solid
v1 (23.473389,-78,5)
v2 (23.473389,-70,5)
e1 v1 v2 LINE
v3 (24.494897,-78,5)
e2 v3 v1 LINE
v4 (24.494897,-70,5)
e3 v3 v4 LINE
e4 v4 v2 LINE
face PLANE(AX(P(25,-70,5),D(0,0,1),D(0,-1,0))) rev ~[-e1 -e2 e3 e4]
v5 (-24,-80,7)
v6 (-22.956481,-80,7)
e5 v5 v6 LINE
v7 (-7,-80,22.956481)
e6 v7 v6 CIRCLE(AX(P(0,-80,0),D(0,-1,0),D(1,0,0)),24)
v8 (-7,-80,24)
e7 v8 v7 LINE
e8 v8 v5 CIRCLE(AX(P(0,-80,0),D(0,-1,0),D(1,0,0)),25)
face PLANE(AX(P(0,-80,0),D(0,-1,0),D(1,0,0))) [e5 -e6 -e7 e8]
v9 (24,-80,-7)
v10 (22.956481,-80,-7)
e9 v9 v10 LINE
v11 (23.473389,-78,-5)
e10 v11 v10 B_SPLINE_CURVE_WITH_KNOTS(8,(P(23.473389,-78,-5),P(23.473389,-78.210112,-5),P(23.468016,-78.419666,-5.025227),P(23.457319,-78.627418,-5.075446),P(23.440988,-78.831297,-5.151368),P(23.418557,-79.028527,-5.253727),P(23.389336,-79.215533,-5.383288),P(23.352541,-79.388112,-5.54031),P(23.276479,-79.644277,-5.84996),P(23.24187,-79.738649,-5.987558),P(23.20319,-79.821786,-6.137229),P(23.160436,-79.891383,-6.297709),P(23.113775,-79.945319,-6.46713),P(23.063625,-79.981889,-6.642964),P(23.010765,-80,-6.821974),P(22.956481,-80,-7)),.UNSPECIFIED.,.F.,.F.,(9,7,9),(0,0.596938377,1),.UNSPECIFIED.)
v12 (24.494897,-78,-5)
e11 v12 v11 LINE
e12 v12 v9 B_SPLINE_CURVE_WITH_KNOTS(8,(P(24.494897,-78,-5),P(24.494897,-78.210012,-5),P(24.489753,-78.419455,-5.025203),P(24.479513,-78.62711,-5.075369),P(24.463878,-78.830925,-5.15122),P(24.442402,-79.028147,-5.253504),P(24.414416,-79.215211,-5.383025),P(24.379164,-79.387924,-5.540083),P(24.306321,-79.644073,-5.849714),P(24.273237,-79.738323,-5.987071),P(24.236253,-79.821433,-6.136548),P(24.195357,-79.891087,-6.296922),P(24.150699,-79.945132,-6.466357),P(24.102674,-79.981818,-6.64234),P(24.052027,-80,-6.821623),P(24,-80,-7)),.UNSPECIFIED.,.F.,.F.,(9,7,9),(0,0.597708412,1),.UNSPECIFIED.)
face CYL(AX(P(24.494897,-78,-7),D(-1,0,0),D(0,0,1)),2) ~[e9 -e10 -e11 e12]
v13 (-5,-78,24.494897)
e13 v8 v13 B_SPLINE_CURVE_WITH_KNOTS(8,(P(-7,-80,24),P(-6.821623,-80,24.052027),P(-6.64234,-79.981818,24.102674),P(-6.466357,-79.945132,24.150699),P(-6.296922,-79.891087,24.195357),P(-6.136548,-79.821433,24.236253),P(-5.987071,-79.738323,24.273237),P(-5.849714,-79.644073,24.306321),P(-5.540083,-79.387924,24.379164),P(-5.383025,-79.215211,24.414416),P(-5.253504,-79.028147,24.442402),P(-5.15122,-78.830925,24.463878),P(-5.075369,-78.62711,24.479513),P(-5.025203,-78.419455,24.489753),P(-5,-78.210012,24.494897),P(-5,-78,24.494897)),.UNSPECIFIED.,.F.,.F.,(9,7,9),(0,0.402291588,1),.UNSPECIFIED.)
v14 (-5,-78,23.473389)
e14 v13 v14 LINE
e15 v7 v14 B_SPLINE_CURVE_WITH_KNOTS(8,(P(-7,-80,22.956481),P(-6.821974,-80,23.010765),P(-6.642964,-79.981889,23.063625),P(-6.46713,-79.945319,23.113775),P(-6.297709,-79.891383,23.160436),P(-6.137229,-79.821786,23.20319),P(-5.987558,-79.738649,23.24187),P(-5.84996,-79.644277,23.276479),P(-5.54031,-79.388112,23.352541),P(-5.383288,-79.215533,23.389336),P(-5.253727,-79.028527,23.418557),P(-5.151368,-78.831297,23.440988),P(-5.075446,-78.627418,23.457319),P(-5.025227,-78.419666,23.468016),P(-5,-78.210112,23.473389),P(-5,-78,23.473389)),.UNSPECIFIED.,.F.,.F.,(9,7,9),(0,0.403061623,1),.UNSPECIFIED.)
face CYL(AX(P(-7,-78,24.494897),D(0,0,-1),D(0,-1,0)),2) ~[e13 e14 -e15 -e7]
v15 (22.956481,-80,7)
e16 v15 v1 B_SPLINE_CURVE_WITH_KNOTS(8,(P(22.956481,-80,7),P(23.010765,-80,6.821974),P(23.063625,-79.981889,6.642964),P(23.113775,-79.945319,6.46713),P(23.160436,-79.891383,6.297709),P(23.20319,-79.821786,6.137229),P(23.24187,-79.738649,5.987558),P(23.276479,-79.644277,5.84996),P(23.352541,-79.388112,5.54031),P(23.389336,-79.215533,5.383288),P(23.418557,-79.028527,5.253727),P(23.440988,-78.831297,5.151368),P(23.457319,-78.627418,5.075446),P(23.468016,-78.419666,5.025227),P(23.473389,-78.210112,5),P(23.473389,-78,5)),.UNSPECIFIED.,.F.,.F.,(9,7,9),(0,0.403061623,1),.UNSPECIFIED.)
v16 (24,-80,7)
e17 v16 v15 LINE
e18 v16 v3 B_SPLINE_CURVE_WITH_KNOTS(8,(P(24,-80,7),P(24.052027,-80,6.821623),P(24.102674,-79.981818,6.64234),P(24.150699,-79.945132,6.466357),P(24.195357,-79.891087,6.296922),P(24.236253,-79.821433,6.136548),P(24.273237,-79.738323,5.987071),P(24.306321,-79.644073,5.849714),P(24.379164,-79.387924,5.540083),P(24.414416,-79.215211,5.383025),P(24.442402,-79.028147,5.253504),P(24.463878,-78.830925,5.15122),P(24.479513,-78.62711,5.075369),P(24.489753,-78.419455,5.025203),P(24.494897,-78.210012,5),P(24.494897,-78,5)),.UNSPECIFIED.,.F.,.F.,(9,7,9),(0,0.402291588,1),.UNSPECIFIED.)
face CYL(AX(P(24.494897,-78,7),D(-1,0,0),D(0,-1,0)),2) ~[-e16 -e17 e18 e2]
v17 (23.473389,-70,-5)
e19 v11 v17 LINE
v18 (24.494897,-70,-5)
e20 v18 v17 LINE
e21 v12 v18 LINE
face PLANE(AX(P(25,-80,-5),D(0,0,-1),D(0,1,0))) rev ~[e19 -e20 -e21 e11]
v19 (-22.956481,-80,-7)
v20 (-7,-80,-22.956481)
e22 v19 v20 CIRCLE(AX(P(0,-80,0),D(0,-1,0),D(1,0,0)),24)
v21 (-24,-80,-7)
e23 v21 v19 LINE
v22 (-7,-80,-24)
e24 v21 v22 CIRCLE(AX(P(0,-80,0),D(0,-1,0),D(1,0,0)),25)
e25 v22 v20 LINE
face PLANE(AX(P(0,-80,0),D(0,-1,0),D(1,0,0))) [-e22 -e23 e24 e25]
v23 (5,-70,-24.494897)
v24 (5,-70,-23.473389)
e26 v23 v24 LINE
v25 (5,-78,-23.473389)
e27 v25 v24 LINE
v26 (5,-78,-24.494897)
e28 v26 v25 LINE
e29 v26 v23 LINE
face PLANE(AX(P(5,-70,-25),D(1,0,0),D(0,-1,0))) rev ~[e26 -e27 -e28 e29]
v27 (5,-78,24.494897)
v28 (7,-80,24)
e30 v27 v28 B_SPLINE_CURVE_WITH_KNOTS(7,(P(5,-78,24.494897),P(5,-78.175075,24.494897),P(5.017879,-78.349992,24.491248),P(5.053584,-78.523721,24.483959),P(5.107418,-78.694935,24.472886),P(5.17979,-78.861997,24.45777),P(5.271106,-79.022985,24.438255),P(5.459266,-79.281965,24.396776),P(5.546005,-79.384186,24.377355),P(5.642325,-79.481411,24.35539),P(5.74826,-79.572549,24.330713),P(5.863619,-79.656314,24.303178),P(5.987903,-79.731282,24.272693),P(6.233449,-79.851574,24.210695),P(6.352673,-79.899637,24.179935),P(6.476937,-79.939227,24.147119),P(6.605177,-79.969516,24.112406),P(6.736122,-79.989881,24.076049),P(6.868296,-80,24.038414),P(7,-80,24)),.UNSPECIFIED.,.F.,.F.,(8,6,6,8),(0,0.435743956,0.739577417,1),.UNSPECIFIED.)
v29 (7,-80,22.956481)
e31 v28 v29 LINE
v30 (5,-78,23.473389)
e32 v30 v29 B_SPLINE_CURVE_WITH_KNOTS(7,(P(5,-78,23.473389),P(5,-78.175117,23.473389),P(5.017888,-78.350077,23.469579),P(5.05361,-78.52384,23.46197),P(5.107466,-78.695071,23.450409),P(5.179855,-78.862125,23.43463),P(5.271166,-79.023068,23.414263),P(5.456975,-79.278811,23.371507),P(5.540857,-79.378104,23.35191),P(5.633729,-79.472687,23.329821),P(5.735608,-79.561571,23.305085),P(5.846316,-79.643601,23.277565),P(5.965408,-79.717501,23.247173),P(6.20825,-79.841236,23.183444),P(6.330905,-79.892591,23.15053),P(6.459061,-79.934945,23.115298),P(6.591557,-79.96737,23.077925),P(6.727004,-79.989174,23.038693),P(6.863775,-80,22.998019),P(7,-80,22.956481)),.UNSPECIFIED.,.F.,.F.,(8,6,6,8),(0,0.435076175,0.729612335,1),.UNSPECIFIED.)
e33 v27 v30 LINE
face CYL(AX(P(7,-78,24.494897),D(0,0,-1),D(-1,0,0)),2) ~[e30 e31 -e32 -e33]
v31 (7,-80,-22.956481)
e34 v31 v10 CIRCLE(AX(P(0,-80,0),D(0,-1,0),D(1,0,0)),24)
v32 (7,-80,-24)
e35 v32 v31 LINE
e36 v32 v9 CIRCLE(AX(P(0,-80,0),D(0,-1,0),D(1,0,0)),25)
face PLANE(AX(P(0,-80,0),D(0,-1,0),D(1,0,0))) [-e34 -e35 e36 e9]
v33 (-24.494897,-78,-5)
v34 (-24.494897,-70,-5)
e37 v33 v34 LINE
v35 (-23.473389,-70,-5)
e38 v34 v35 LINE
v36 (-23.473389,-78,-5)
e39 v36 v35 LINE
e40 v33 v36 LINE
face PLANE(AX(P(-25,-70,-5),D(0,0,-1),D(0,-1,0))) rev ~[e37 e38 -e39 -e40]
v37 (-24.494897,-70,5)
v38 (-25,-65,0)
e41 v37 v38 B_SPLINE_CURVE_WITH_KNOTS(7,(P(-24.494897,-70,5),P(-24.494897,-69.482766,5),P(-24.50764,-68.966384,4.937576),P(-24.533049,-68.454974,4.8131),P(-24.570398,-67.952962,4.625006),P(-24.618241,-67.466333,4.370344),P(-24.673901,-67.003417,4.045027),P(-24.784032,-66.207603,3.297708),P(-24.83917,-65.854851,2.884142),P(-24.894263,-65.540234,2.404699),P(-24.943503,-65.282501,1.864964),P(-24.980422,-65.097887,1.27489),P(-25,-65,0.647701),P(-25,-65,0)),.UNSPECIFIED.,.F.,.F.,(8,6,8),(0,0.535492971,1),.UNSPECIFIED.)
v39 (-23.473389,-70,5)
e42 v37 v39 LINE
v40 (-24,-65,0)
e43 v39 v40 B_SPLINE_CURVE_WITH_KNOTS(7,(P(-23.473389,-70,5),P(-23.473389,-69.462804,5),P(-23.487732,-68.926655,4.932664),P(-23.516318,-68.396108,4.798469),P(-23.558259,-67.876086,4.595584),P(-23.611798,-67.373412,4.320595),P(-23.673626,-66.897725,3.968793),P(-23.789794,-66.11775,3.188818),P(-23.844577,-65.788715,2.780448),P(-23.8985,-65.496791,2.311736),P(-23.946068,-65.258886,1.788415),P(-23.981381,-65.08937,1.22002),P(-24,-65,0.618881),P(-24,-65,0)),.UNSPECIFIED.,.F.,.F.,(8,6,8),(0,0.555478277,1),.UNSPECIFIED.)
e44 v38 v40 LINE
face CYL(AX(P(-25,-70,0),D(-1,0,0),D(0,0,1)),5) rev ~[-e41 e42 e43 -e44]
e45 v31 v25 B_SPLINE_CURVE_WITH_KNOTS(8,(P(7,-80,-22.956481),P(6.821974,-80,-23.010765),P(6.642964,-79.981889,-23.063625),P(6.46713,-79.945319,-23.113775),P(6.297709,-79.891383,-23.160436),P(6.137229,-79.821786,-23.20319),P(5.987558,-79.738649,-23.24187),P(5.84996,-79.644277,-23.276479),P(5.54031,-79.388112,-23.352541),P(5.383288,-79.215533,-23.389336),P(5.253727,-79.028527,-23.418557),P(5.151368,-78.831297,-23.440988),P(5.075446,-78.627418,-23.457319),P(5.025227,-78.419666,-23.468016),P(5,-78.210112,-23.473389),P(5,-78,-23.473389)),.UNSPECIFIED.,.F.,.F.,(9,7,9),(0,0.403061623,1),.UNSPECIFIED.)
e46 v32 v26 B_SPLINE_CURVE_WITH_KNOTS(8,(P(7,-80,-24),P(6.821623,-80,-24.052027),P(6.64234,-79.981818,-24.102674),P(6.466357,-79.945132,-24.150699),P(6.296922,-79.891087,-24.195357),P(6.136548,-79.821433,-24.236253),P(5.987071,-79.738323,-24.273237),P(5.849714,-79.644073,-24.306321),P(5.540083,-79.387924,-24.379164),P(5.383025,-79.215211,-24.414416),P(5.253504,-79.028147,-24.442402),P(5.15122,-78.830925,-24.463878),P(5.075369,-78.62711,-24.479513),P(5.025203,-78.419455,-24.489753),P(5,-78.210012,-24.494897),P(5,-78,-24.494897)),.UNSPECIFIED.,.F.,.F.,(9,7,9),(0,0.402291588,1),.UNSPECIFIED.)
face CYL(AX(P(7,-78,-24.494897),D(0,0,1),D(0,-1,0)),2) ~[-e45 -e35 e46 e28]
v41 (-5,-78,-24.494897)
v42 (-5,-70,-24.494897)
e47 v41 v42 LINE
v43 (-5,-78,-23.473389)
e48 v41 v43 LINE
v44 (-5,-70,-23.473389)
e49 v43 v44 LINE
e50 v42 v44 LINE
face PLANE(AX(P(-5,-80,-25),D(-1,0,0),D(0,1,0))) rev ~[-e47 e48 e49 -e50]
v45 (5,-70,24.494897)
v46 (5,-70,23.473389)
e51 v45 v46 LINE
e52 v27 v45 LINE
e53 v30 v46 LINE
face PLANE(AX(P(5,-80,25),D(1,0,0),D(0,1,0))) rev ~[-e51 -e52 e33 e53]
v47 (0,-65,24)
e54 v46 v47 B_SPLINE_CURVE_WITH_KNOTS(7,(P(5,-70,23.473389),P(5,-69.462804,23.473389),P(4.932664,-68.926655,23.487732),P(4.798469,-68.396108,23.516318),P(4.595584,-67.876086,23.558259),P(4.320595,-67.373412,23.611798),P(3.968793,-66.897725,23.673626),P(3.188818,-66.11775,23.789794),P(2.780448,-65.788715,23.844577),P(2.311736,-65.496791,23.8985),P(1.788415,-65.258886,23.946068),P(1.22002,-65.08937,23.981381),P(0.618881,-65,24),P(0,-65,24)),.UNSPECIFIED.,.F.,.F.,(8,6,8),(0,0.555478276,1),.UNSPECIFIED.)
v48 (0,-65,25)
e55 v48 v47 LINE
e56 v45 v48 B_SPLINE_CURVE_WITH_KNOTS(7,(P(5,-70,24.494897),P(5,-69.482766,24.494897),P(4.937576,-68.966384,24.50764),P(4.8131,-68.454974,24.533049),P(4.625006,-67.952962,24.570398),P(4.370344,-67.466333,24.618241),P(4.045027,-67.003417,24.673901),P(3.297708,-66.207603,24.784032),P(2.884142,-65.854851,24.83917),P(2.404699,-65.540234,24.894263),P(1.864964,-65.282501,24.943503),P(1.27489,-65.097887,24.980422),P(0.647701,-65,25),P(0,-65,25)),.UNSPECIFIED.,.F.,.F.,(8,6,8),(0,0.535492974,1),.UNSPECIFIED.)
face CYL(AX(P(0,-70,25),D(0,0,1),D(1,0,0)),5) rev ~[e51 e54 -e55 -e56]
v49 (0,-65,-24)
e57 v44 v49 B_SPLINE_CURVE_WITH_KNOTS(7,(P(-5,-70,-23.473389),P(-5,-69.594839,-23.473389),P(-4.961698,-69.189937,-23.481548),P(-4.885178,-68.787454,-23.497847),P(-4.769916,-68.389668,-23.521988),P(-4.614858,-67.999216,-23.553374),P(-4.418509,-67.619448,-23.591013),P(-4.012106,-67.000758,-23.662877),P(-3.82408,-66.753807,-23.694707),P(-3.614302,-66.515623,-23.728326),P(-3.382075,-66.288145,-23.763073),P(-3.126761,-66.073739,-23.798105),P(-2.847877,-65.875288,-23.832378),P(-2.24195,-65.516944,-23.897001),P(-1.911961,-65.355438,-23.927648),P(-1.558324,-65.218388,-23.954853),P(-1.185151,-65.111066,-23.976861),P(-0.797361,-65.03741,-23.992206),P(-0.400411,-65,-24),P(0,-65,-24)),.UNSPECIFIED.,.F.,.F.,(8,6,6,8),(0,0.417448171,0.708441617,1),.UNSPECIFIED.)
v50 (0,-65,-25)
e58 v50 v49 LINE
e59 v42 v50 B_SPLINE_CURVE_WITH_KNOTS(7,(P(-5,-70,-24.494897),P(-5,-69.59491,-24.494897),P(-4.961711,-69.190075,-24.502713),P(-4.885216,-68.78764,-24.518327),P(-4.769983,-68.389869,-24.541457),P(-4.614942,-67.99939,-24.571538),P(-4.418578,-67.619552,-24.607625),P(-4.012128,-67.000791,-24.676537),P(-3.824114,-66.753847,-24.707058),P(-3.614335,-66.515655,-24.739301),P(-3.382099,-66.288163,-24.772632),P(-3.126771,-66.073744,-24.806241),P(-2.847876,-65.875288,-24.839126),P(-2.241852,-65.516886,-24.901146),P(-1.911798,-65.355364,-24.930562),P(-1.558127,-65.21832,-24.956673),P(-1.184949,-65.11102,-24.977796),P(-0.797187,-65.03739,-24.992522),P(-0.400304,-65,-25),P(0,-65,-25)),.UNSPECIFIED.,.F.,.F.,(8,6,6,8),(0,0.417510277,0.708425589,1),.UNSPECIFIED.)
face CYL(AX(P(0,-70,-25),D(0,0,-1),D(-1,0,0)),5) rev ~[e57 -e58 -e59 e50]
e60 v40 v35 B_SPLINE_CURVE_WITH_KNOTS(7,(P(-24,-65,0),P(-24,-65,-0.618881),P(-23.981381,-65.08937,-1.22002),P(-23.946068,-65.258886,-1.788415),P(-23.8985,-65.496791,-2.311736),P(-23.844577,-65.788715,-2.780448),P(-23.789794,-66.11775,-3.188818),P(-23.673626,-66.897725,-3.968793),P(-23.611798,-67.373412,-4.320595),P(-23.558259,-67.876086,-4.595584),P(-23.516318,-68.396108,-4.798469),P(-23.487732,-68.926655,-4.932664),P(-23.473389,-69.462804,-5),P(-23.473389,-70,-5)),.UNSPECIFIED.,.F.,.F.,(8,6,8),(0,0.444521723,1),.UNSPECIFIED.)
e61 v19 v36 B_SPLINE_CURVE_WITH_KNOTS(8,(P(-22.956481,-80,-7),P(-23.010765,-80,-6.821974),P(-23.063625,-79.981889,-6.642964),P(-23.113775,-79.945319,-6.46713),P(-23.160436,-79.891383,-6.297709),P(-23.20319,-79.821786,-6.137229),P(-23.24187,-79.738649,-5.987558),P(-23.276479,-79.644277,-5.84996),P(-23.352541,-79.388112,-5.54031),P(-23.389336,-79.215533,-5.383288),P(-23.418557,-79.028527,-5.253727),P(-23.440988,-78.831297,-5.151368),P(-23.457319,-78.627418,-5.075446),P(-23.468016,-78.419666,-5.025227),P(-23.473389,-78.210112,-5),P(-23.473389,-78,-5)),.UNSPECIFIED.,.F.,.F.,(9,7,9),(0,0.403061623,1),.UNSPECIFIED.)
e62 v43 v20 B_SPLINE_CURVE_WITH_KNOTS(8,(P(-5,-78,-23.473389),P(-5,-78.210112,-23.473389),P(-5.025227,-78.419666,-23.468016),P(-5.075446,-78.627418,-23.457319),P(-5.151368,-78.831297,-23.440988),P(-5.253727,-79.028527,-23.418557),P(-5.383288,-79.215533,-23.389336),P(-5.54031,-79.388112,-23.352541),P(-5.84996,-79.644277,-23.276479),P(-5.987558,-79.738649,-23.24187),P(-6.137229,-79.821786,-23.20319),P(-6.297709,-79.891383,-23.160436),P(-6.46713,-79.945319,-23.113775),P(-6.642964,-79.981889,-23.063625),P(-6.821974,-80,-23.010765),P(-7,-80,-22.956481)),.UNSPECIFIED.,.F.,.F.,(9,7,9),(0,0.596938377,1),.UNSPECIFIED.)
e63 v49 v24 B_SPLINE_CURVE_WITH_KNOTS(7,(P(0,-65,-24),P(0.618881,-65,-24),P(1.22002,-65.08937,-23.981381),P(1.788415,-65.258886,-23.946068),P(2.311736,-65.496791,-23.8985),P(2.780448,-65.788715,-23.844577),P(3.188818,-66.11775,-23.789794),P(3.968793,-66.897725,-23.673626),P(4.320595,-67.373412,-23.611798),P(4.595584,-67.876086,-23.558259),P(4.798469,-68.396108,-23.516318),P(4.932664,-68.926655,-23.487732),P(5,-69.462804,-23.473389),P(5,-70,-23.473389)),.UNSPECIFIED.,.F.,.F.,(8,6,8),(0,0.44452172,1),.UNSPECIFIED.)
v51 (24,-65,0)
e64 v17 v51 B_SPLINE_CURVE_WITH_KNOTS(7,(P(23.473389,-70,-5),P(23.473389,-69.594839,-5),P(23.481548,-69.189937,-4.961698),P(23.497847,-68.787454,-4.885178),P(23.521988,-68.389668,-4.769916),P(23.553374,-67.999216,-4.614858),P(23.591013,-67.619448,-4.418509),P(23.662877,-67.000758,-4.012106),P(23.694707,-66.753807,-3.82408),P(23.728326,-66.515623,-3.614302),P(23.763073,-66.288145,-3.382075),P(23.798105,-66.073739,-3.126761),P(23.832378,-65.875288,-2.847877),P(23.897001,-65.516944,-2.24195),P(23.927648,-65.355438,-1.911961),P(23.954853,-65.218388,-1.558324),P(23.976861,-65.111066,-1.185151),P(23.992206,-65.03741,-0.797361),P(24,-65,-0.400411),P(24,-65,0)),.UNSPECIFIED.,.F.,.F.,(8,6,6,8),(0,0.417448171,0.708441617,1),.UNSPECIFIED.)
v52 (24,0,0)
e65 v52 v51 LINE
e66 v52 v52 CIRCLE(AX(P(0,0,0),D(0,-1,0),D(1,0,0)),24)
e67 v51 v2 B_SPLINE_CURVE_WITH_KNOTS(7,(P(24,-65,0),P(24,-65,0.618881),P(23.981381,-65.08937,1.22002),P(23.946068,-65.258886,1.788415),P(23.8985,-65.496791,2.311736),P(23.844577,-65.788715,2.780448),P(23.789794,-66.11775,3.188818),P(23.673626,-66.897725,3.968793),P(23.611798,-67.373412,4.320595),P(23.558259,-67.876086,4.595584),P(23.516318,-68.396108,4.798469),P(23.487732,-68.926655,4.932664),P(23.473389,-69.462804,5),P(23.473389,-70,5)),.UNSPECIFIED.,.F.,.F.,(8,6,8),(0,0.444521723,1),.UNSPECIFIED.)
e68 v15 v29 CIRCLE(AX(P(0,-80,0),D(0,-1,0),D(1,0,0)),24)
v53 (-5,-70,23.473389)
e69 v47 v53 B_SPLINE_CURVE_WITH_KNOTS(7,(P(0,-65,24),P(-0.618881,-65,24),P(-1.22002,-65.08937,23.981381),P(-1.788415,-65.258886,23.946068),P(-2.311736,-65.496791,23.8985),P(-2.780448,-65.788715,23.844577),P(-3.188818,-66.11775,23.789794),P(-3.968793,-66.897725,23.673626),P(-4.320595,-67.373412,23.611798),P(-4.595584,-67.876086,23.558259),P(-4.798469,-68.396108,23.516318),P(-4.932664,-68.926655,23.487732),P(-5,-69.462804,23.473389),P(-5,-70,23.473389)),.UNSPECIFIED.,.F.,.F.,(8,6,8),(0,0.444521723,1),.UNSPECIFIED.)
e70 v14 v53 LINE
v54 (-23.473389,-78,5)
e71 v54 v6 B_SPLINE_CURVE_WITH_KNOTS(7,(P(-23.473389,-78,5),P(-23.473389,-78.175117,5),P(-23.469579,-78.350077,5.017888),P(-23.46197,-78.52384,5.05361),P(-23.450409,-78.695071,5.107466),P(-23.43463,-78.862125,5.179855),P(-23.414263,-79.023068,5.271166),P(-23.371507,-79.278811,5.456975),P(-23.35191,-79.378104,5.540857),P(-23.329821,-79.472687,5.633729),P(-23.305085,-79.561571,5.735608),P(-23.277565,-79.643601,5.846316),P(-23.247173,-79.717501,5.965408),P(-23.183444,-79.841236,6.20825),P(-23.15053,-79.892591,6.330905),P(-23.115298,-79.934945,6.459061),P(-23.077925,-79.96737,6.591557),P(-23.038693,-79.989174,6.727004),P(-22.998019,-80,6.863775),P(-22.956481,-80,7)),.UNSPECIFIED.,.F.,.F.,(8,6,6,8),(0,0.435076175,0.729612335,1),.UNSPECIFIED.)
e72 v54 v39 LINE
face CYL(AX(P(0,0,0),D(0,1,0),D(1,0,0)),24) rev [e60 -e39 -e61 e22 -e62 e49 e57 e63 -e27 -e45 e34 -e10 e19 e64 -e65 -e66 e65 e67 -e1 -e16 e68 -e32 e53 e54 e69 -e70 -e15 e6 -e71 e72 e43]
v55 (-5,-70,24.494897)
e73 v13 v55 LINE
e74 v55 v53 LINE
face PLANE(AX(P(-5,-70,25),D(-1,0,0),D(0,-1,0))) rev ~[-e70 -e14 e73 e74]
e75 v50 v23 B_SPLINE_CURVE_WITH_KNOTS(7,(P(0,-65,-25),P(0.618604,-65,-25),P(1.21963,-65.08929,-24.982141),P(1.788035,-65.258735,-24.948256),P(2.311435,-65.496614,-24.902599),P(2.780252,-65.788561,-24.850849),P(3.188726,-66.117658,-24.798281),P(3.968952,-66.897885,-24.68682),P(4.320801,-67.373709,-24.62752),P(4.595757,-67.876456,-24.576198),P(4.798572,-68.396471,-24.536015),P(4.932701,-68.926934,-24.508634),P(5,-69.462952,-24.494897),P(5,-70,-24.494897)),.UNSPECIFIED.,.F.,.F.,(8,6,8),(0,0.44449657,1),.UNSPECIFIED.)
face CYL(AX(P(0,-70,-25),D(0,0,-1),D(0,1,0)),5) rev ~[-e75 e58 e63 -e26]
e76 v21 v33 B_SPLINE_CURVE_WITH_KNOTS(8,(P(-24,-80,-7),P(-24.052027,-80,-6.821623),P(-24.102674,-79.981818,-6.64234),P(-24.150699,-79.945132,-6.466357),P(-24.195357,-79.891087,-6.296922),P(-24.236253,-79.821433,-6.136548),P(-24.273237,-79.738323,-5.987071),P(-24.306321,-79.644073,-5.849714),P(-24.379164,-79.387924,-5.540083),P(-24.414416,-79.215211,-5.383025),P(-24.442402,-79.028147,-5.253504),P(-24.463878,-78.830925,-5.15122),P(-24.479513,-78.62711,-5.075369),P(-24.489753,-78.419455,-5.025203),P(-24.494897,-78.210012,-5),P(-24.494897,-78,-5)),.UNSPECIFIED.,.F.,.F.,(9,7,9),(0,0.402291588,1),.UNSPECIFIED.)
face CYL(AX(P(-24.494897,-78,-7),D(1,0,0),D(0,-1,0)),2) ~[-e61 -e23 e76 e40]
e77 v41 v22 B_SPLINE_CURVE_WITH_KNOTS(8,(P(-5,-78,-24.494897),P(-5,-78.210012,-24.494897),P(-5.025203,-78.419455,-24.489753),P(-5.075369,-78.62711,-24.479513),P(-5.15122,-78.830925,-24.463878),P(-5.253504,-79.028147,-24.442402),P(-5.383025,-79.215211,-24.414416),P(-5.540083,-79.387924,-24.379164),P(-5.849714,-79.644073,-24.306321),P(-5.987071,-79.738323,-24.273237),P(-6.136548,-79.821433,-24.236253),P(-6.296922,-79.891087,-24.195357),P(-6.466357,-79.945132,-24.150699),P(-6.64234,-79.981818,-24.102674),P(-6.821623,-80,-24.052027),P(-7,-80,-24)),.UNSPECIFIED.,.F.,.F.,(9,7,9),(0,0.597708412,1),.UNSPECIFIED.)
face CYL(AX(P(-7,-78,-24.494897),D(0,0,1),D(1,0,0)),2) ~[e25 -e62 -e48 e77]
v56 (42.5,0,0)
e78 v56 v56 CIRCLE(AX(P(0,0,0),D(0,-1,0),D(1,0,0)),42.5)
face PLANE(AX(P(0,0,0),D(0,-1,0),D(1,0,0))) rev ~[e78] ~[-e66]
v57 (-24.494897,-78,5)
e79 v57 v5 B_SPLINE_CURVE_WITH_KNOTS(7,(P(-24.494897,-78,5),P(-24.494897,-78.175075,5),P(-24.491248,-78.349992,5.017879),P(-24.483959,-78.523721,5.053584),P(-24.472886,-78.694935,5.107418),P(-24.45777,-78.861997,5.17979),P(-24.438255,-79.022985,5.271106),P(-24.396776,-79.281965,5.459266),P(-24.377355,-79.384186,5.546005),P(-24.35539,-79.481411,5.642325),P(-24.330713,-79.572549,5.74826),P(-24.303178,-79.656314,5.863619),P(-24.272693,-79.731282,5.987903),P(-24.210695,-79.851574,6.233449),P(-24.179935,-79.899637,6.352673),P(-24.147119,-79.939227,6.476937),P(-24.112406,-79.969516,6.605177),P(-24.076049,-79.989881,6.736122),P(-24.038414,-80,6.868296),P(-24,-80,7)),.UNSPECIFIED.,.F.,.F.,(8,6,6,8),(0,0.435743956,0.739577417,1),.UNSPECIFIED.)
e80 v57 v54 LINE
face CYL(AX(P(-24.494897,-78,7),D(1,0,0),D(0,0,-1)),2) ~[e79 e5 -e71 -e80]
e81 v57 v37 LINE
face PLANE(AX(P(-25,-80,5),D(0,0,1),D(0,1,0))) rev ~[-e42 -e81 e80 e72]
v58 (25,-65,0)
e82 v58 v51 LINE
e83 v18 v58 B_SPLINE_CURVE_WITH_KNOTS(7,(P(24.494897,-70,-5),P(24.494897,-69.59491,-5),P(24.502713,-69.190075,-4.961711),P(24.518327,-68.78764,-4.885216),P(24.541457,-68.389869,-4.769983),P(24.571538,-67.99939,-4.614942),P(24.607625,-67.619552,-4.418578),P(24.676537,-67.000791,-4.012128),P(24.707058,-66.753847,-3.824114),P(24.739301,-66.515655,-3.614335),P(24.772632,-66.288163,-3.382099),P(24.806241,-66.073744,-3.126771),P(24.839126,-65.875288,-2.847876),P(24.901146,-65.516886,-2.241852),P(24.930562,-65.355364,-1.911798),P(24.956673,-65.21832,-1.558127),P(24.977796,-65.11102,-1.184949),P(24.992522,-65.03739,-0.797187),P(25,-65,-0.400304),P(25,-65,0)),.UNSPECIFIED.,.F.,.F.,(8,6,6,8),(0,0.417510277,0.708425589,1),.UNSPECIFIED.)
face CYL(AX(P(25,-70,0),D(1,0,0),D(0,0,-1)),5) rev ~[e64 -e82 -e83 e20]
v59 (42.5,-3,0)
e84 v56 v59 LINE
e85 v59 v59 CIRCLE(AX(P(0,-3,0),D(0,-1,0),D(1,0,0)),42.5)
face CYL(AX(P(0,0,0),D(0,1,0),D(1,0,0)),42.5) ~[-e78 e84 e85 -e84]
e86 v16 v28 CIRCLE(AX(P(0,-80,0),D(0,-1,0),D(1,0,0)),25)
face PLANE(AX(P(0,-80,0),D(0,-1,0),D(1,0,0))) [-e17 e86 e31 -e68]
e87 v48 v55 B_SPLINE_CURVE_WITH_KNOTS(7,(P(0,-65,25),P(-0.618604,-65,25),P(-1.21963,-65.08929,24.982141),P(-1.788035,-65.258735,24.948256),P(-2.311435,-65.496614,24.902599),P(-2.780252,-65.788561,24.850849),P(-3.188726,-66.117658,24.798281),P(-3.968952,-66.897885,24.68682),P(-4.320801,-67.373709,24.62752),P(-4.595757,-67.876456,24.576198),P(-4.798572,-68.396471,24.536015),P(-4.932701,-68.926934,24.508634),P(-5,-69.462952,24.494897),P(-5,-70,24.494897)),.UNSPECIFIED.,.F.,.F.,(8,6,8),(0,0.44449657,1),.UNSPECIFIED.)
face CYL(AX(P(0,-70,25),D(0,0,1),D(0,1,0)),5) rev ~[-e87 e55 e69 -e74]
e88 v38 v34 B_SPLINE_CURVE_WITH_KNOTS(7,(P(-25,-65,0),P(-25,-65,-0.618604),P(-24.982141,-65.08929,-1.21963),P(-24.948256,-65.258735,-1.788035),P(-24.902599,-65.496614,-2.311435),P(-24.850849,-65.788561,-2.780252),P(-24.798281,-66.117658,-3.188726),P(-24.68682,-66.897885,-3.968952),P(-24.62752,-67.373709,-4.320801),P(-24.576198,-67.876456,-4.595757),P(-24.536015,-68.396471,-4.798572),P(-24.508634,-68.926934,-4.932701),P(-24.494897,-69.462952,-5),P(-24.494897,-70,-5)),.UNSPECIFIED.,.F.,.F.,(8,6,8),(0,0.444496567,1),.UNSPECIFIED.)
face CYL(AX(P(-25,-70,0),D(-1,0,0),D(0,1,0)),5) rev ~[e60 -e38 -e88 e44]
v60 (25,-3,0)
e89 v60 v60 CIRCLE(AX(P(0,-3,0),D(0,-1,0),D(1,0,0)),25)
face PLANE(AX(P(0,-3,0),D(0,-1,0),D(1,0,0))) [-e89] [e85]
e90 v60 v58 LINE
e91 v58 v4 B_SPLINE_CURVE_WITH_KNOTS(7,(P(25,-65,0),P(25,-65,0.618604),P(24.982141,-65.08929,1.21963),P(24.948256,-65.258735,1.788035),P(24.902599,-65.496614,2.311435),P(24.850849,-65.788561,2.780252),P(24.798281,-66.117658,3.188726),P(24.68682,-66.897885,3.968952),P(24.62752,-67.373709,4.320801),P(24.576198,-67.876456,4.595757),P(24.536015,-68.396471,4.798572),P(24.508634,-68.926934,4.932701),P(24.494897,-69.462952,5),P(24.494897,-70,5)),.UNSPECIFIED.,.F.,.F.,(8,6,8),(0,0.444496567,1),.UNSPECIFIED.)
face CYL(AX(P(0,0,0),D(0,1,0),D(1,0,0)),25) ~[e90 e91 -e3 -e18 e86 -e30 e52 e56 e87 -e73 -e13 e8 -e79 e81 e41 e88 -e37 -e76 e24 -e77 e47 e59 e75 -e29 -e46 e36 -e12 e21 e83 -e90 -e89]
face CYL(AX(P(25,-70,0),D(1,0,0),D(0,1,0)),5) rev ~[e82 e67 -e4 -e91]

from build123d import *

# Parameters (mm, degrees)
F0_R     = 42.5
F0_R_2   = 25
F1_DEPTH = 3
F0_R_3   = 24
F3_DEPTH = 80
F5_DEPTH = 2
F6_COUNT = 4
F7_R     = 2


with BuildPart() as f1:
    # F0 (on Front) → F1 (new body)
    with BuildSketch(Plane.XZ):
        Circle(F0_R)
        Circle(F0_R_2, mode=Mode.SUBTRACT)
    extrude(amount=F1_DEPTH)

    # F0 (on Front) → F3 (join)
    with BuildSketch(Plane.XZ):
        Circle(F0_R_2)
        Circle(F0_R_3, mode=Mode.SUBTRACT)
    extrude(amount=F3_DEPTH)

    # F6: F5 ×4 about axis
    f6_axis = Axis((0, -80, 0), (0, -1, 0))


with BuildPart() as f5:
    # F4 (on offset) → F5 (new body)
    with BuildSketch(Plane.XY.offset(25)):
        with BuildLine():
            Line((-5, -70), (-5, -80))
            Line((-5, -80), (5, -80))
            Line((5, -80), (5, -70))
            ThreePointArc((5, -70), (3.5355339059, -66.4644660941), (0, -65))
            ThreePointArc((0, -65), (-3.5355339059, -66.4644660941), (-5, -70))
        make_face()
    extrude(amount=-F5_DEPTH)


with BuildPart() as f1_1:
    add(f1.part)
    for i in range(1, F6_COUNT):
        add(f5.part.rotate(f6_axis, i * 360 / F6_COUNT), mode=Mode.SUBTRACT)

    # F6#seed: cut F5
    add(f5.part, mode=Mode.SUBTRACT)

    # F7
    f7_edges = [f1_1.edges().sort_by_distance(p)[0] for p in [
        (5, -80, -23.984143),
        (-5, -80, -23.984143),
        (23.984143, -80, -5),
        (23.984143, -80, 5),
        (5, -80, 23.984143),
        (-5, -80, 23.984143),
        (-23.984143, -80, -5),
        (-23.984143, -80, 5),
    ]]
    fillet(f7_edges, radius=F7_R)


solid = f1_1.part
